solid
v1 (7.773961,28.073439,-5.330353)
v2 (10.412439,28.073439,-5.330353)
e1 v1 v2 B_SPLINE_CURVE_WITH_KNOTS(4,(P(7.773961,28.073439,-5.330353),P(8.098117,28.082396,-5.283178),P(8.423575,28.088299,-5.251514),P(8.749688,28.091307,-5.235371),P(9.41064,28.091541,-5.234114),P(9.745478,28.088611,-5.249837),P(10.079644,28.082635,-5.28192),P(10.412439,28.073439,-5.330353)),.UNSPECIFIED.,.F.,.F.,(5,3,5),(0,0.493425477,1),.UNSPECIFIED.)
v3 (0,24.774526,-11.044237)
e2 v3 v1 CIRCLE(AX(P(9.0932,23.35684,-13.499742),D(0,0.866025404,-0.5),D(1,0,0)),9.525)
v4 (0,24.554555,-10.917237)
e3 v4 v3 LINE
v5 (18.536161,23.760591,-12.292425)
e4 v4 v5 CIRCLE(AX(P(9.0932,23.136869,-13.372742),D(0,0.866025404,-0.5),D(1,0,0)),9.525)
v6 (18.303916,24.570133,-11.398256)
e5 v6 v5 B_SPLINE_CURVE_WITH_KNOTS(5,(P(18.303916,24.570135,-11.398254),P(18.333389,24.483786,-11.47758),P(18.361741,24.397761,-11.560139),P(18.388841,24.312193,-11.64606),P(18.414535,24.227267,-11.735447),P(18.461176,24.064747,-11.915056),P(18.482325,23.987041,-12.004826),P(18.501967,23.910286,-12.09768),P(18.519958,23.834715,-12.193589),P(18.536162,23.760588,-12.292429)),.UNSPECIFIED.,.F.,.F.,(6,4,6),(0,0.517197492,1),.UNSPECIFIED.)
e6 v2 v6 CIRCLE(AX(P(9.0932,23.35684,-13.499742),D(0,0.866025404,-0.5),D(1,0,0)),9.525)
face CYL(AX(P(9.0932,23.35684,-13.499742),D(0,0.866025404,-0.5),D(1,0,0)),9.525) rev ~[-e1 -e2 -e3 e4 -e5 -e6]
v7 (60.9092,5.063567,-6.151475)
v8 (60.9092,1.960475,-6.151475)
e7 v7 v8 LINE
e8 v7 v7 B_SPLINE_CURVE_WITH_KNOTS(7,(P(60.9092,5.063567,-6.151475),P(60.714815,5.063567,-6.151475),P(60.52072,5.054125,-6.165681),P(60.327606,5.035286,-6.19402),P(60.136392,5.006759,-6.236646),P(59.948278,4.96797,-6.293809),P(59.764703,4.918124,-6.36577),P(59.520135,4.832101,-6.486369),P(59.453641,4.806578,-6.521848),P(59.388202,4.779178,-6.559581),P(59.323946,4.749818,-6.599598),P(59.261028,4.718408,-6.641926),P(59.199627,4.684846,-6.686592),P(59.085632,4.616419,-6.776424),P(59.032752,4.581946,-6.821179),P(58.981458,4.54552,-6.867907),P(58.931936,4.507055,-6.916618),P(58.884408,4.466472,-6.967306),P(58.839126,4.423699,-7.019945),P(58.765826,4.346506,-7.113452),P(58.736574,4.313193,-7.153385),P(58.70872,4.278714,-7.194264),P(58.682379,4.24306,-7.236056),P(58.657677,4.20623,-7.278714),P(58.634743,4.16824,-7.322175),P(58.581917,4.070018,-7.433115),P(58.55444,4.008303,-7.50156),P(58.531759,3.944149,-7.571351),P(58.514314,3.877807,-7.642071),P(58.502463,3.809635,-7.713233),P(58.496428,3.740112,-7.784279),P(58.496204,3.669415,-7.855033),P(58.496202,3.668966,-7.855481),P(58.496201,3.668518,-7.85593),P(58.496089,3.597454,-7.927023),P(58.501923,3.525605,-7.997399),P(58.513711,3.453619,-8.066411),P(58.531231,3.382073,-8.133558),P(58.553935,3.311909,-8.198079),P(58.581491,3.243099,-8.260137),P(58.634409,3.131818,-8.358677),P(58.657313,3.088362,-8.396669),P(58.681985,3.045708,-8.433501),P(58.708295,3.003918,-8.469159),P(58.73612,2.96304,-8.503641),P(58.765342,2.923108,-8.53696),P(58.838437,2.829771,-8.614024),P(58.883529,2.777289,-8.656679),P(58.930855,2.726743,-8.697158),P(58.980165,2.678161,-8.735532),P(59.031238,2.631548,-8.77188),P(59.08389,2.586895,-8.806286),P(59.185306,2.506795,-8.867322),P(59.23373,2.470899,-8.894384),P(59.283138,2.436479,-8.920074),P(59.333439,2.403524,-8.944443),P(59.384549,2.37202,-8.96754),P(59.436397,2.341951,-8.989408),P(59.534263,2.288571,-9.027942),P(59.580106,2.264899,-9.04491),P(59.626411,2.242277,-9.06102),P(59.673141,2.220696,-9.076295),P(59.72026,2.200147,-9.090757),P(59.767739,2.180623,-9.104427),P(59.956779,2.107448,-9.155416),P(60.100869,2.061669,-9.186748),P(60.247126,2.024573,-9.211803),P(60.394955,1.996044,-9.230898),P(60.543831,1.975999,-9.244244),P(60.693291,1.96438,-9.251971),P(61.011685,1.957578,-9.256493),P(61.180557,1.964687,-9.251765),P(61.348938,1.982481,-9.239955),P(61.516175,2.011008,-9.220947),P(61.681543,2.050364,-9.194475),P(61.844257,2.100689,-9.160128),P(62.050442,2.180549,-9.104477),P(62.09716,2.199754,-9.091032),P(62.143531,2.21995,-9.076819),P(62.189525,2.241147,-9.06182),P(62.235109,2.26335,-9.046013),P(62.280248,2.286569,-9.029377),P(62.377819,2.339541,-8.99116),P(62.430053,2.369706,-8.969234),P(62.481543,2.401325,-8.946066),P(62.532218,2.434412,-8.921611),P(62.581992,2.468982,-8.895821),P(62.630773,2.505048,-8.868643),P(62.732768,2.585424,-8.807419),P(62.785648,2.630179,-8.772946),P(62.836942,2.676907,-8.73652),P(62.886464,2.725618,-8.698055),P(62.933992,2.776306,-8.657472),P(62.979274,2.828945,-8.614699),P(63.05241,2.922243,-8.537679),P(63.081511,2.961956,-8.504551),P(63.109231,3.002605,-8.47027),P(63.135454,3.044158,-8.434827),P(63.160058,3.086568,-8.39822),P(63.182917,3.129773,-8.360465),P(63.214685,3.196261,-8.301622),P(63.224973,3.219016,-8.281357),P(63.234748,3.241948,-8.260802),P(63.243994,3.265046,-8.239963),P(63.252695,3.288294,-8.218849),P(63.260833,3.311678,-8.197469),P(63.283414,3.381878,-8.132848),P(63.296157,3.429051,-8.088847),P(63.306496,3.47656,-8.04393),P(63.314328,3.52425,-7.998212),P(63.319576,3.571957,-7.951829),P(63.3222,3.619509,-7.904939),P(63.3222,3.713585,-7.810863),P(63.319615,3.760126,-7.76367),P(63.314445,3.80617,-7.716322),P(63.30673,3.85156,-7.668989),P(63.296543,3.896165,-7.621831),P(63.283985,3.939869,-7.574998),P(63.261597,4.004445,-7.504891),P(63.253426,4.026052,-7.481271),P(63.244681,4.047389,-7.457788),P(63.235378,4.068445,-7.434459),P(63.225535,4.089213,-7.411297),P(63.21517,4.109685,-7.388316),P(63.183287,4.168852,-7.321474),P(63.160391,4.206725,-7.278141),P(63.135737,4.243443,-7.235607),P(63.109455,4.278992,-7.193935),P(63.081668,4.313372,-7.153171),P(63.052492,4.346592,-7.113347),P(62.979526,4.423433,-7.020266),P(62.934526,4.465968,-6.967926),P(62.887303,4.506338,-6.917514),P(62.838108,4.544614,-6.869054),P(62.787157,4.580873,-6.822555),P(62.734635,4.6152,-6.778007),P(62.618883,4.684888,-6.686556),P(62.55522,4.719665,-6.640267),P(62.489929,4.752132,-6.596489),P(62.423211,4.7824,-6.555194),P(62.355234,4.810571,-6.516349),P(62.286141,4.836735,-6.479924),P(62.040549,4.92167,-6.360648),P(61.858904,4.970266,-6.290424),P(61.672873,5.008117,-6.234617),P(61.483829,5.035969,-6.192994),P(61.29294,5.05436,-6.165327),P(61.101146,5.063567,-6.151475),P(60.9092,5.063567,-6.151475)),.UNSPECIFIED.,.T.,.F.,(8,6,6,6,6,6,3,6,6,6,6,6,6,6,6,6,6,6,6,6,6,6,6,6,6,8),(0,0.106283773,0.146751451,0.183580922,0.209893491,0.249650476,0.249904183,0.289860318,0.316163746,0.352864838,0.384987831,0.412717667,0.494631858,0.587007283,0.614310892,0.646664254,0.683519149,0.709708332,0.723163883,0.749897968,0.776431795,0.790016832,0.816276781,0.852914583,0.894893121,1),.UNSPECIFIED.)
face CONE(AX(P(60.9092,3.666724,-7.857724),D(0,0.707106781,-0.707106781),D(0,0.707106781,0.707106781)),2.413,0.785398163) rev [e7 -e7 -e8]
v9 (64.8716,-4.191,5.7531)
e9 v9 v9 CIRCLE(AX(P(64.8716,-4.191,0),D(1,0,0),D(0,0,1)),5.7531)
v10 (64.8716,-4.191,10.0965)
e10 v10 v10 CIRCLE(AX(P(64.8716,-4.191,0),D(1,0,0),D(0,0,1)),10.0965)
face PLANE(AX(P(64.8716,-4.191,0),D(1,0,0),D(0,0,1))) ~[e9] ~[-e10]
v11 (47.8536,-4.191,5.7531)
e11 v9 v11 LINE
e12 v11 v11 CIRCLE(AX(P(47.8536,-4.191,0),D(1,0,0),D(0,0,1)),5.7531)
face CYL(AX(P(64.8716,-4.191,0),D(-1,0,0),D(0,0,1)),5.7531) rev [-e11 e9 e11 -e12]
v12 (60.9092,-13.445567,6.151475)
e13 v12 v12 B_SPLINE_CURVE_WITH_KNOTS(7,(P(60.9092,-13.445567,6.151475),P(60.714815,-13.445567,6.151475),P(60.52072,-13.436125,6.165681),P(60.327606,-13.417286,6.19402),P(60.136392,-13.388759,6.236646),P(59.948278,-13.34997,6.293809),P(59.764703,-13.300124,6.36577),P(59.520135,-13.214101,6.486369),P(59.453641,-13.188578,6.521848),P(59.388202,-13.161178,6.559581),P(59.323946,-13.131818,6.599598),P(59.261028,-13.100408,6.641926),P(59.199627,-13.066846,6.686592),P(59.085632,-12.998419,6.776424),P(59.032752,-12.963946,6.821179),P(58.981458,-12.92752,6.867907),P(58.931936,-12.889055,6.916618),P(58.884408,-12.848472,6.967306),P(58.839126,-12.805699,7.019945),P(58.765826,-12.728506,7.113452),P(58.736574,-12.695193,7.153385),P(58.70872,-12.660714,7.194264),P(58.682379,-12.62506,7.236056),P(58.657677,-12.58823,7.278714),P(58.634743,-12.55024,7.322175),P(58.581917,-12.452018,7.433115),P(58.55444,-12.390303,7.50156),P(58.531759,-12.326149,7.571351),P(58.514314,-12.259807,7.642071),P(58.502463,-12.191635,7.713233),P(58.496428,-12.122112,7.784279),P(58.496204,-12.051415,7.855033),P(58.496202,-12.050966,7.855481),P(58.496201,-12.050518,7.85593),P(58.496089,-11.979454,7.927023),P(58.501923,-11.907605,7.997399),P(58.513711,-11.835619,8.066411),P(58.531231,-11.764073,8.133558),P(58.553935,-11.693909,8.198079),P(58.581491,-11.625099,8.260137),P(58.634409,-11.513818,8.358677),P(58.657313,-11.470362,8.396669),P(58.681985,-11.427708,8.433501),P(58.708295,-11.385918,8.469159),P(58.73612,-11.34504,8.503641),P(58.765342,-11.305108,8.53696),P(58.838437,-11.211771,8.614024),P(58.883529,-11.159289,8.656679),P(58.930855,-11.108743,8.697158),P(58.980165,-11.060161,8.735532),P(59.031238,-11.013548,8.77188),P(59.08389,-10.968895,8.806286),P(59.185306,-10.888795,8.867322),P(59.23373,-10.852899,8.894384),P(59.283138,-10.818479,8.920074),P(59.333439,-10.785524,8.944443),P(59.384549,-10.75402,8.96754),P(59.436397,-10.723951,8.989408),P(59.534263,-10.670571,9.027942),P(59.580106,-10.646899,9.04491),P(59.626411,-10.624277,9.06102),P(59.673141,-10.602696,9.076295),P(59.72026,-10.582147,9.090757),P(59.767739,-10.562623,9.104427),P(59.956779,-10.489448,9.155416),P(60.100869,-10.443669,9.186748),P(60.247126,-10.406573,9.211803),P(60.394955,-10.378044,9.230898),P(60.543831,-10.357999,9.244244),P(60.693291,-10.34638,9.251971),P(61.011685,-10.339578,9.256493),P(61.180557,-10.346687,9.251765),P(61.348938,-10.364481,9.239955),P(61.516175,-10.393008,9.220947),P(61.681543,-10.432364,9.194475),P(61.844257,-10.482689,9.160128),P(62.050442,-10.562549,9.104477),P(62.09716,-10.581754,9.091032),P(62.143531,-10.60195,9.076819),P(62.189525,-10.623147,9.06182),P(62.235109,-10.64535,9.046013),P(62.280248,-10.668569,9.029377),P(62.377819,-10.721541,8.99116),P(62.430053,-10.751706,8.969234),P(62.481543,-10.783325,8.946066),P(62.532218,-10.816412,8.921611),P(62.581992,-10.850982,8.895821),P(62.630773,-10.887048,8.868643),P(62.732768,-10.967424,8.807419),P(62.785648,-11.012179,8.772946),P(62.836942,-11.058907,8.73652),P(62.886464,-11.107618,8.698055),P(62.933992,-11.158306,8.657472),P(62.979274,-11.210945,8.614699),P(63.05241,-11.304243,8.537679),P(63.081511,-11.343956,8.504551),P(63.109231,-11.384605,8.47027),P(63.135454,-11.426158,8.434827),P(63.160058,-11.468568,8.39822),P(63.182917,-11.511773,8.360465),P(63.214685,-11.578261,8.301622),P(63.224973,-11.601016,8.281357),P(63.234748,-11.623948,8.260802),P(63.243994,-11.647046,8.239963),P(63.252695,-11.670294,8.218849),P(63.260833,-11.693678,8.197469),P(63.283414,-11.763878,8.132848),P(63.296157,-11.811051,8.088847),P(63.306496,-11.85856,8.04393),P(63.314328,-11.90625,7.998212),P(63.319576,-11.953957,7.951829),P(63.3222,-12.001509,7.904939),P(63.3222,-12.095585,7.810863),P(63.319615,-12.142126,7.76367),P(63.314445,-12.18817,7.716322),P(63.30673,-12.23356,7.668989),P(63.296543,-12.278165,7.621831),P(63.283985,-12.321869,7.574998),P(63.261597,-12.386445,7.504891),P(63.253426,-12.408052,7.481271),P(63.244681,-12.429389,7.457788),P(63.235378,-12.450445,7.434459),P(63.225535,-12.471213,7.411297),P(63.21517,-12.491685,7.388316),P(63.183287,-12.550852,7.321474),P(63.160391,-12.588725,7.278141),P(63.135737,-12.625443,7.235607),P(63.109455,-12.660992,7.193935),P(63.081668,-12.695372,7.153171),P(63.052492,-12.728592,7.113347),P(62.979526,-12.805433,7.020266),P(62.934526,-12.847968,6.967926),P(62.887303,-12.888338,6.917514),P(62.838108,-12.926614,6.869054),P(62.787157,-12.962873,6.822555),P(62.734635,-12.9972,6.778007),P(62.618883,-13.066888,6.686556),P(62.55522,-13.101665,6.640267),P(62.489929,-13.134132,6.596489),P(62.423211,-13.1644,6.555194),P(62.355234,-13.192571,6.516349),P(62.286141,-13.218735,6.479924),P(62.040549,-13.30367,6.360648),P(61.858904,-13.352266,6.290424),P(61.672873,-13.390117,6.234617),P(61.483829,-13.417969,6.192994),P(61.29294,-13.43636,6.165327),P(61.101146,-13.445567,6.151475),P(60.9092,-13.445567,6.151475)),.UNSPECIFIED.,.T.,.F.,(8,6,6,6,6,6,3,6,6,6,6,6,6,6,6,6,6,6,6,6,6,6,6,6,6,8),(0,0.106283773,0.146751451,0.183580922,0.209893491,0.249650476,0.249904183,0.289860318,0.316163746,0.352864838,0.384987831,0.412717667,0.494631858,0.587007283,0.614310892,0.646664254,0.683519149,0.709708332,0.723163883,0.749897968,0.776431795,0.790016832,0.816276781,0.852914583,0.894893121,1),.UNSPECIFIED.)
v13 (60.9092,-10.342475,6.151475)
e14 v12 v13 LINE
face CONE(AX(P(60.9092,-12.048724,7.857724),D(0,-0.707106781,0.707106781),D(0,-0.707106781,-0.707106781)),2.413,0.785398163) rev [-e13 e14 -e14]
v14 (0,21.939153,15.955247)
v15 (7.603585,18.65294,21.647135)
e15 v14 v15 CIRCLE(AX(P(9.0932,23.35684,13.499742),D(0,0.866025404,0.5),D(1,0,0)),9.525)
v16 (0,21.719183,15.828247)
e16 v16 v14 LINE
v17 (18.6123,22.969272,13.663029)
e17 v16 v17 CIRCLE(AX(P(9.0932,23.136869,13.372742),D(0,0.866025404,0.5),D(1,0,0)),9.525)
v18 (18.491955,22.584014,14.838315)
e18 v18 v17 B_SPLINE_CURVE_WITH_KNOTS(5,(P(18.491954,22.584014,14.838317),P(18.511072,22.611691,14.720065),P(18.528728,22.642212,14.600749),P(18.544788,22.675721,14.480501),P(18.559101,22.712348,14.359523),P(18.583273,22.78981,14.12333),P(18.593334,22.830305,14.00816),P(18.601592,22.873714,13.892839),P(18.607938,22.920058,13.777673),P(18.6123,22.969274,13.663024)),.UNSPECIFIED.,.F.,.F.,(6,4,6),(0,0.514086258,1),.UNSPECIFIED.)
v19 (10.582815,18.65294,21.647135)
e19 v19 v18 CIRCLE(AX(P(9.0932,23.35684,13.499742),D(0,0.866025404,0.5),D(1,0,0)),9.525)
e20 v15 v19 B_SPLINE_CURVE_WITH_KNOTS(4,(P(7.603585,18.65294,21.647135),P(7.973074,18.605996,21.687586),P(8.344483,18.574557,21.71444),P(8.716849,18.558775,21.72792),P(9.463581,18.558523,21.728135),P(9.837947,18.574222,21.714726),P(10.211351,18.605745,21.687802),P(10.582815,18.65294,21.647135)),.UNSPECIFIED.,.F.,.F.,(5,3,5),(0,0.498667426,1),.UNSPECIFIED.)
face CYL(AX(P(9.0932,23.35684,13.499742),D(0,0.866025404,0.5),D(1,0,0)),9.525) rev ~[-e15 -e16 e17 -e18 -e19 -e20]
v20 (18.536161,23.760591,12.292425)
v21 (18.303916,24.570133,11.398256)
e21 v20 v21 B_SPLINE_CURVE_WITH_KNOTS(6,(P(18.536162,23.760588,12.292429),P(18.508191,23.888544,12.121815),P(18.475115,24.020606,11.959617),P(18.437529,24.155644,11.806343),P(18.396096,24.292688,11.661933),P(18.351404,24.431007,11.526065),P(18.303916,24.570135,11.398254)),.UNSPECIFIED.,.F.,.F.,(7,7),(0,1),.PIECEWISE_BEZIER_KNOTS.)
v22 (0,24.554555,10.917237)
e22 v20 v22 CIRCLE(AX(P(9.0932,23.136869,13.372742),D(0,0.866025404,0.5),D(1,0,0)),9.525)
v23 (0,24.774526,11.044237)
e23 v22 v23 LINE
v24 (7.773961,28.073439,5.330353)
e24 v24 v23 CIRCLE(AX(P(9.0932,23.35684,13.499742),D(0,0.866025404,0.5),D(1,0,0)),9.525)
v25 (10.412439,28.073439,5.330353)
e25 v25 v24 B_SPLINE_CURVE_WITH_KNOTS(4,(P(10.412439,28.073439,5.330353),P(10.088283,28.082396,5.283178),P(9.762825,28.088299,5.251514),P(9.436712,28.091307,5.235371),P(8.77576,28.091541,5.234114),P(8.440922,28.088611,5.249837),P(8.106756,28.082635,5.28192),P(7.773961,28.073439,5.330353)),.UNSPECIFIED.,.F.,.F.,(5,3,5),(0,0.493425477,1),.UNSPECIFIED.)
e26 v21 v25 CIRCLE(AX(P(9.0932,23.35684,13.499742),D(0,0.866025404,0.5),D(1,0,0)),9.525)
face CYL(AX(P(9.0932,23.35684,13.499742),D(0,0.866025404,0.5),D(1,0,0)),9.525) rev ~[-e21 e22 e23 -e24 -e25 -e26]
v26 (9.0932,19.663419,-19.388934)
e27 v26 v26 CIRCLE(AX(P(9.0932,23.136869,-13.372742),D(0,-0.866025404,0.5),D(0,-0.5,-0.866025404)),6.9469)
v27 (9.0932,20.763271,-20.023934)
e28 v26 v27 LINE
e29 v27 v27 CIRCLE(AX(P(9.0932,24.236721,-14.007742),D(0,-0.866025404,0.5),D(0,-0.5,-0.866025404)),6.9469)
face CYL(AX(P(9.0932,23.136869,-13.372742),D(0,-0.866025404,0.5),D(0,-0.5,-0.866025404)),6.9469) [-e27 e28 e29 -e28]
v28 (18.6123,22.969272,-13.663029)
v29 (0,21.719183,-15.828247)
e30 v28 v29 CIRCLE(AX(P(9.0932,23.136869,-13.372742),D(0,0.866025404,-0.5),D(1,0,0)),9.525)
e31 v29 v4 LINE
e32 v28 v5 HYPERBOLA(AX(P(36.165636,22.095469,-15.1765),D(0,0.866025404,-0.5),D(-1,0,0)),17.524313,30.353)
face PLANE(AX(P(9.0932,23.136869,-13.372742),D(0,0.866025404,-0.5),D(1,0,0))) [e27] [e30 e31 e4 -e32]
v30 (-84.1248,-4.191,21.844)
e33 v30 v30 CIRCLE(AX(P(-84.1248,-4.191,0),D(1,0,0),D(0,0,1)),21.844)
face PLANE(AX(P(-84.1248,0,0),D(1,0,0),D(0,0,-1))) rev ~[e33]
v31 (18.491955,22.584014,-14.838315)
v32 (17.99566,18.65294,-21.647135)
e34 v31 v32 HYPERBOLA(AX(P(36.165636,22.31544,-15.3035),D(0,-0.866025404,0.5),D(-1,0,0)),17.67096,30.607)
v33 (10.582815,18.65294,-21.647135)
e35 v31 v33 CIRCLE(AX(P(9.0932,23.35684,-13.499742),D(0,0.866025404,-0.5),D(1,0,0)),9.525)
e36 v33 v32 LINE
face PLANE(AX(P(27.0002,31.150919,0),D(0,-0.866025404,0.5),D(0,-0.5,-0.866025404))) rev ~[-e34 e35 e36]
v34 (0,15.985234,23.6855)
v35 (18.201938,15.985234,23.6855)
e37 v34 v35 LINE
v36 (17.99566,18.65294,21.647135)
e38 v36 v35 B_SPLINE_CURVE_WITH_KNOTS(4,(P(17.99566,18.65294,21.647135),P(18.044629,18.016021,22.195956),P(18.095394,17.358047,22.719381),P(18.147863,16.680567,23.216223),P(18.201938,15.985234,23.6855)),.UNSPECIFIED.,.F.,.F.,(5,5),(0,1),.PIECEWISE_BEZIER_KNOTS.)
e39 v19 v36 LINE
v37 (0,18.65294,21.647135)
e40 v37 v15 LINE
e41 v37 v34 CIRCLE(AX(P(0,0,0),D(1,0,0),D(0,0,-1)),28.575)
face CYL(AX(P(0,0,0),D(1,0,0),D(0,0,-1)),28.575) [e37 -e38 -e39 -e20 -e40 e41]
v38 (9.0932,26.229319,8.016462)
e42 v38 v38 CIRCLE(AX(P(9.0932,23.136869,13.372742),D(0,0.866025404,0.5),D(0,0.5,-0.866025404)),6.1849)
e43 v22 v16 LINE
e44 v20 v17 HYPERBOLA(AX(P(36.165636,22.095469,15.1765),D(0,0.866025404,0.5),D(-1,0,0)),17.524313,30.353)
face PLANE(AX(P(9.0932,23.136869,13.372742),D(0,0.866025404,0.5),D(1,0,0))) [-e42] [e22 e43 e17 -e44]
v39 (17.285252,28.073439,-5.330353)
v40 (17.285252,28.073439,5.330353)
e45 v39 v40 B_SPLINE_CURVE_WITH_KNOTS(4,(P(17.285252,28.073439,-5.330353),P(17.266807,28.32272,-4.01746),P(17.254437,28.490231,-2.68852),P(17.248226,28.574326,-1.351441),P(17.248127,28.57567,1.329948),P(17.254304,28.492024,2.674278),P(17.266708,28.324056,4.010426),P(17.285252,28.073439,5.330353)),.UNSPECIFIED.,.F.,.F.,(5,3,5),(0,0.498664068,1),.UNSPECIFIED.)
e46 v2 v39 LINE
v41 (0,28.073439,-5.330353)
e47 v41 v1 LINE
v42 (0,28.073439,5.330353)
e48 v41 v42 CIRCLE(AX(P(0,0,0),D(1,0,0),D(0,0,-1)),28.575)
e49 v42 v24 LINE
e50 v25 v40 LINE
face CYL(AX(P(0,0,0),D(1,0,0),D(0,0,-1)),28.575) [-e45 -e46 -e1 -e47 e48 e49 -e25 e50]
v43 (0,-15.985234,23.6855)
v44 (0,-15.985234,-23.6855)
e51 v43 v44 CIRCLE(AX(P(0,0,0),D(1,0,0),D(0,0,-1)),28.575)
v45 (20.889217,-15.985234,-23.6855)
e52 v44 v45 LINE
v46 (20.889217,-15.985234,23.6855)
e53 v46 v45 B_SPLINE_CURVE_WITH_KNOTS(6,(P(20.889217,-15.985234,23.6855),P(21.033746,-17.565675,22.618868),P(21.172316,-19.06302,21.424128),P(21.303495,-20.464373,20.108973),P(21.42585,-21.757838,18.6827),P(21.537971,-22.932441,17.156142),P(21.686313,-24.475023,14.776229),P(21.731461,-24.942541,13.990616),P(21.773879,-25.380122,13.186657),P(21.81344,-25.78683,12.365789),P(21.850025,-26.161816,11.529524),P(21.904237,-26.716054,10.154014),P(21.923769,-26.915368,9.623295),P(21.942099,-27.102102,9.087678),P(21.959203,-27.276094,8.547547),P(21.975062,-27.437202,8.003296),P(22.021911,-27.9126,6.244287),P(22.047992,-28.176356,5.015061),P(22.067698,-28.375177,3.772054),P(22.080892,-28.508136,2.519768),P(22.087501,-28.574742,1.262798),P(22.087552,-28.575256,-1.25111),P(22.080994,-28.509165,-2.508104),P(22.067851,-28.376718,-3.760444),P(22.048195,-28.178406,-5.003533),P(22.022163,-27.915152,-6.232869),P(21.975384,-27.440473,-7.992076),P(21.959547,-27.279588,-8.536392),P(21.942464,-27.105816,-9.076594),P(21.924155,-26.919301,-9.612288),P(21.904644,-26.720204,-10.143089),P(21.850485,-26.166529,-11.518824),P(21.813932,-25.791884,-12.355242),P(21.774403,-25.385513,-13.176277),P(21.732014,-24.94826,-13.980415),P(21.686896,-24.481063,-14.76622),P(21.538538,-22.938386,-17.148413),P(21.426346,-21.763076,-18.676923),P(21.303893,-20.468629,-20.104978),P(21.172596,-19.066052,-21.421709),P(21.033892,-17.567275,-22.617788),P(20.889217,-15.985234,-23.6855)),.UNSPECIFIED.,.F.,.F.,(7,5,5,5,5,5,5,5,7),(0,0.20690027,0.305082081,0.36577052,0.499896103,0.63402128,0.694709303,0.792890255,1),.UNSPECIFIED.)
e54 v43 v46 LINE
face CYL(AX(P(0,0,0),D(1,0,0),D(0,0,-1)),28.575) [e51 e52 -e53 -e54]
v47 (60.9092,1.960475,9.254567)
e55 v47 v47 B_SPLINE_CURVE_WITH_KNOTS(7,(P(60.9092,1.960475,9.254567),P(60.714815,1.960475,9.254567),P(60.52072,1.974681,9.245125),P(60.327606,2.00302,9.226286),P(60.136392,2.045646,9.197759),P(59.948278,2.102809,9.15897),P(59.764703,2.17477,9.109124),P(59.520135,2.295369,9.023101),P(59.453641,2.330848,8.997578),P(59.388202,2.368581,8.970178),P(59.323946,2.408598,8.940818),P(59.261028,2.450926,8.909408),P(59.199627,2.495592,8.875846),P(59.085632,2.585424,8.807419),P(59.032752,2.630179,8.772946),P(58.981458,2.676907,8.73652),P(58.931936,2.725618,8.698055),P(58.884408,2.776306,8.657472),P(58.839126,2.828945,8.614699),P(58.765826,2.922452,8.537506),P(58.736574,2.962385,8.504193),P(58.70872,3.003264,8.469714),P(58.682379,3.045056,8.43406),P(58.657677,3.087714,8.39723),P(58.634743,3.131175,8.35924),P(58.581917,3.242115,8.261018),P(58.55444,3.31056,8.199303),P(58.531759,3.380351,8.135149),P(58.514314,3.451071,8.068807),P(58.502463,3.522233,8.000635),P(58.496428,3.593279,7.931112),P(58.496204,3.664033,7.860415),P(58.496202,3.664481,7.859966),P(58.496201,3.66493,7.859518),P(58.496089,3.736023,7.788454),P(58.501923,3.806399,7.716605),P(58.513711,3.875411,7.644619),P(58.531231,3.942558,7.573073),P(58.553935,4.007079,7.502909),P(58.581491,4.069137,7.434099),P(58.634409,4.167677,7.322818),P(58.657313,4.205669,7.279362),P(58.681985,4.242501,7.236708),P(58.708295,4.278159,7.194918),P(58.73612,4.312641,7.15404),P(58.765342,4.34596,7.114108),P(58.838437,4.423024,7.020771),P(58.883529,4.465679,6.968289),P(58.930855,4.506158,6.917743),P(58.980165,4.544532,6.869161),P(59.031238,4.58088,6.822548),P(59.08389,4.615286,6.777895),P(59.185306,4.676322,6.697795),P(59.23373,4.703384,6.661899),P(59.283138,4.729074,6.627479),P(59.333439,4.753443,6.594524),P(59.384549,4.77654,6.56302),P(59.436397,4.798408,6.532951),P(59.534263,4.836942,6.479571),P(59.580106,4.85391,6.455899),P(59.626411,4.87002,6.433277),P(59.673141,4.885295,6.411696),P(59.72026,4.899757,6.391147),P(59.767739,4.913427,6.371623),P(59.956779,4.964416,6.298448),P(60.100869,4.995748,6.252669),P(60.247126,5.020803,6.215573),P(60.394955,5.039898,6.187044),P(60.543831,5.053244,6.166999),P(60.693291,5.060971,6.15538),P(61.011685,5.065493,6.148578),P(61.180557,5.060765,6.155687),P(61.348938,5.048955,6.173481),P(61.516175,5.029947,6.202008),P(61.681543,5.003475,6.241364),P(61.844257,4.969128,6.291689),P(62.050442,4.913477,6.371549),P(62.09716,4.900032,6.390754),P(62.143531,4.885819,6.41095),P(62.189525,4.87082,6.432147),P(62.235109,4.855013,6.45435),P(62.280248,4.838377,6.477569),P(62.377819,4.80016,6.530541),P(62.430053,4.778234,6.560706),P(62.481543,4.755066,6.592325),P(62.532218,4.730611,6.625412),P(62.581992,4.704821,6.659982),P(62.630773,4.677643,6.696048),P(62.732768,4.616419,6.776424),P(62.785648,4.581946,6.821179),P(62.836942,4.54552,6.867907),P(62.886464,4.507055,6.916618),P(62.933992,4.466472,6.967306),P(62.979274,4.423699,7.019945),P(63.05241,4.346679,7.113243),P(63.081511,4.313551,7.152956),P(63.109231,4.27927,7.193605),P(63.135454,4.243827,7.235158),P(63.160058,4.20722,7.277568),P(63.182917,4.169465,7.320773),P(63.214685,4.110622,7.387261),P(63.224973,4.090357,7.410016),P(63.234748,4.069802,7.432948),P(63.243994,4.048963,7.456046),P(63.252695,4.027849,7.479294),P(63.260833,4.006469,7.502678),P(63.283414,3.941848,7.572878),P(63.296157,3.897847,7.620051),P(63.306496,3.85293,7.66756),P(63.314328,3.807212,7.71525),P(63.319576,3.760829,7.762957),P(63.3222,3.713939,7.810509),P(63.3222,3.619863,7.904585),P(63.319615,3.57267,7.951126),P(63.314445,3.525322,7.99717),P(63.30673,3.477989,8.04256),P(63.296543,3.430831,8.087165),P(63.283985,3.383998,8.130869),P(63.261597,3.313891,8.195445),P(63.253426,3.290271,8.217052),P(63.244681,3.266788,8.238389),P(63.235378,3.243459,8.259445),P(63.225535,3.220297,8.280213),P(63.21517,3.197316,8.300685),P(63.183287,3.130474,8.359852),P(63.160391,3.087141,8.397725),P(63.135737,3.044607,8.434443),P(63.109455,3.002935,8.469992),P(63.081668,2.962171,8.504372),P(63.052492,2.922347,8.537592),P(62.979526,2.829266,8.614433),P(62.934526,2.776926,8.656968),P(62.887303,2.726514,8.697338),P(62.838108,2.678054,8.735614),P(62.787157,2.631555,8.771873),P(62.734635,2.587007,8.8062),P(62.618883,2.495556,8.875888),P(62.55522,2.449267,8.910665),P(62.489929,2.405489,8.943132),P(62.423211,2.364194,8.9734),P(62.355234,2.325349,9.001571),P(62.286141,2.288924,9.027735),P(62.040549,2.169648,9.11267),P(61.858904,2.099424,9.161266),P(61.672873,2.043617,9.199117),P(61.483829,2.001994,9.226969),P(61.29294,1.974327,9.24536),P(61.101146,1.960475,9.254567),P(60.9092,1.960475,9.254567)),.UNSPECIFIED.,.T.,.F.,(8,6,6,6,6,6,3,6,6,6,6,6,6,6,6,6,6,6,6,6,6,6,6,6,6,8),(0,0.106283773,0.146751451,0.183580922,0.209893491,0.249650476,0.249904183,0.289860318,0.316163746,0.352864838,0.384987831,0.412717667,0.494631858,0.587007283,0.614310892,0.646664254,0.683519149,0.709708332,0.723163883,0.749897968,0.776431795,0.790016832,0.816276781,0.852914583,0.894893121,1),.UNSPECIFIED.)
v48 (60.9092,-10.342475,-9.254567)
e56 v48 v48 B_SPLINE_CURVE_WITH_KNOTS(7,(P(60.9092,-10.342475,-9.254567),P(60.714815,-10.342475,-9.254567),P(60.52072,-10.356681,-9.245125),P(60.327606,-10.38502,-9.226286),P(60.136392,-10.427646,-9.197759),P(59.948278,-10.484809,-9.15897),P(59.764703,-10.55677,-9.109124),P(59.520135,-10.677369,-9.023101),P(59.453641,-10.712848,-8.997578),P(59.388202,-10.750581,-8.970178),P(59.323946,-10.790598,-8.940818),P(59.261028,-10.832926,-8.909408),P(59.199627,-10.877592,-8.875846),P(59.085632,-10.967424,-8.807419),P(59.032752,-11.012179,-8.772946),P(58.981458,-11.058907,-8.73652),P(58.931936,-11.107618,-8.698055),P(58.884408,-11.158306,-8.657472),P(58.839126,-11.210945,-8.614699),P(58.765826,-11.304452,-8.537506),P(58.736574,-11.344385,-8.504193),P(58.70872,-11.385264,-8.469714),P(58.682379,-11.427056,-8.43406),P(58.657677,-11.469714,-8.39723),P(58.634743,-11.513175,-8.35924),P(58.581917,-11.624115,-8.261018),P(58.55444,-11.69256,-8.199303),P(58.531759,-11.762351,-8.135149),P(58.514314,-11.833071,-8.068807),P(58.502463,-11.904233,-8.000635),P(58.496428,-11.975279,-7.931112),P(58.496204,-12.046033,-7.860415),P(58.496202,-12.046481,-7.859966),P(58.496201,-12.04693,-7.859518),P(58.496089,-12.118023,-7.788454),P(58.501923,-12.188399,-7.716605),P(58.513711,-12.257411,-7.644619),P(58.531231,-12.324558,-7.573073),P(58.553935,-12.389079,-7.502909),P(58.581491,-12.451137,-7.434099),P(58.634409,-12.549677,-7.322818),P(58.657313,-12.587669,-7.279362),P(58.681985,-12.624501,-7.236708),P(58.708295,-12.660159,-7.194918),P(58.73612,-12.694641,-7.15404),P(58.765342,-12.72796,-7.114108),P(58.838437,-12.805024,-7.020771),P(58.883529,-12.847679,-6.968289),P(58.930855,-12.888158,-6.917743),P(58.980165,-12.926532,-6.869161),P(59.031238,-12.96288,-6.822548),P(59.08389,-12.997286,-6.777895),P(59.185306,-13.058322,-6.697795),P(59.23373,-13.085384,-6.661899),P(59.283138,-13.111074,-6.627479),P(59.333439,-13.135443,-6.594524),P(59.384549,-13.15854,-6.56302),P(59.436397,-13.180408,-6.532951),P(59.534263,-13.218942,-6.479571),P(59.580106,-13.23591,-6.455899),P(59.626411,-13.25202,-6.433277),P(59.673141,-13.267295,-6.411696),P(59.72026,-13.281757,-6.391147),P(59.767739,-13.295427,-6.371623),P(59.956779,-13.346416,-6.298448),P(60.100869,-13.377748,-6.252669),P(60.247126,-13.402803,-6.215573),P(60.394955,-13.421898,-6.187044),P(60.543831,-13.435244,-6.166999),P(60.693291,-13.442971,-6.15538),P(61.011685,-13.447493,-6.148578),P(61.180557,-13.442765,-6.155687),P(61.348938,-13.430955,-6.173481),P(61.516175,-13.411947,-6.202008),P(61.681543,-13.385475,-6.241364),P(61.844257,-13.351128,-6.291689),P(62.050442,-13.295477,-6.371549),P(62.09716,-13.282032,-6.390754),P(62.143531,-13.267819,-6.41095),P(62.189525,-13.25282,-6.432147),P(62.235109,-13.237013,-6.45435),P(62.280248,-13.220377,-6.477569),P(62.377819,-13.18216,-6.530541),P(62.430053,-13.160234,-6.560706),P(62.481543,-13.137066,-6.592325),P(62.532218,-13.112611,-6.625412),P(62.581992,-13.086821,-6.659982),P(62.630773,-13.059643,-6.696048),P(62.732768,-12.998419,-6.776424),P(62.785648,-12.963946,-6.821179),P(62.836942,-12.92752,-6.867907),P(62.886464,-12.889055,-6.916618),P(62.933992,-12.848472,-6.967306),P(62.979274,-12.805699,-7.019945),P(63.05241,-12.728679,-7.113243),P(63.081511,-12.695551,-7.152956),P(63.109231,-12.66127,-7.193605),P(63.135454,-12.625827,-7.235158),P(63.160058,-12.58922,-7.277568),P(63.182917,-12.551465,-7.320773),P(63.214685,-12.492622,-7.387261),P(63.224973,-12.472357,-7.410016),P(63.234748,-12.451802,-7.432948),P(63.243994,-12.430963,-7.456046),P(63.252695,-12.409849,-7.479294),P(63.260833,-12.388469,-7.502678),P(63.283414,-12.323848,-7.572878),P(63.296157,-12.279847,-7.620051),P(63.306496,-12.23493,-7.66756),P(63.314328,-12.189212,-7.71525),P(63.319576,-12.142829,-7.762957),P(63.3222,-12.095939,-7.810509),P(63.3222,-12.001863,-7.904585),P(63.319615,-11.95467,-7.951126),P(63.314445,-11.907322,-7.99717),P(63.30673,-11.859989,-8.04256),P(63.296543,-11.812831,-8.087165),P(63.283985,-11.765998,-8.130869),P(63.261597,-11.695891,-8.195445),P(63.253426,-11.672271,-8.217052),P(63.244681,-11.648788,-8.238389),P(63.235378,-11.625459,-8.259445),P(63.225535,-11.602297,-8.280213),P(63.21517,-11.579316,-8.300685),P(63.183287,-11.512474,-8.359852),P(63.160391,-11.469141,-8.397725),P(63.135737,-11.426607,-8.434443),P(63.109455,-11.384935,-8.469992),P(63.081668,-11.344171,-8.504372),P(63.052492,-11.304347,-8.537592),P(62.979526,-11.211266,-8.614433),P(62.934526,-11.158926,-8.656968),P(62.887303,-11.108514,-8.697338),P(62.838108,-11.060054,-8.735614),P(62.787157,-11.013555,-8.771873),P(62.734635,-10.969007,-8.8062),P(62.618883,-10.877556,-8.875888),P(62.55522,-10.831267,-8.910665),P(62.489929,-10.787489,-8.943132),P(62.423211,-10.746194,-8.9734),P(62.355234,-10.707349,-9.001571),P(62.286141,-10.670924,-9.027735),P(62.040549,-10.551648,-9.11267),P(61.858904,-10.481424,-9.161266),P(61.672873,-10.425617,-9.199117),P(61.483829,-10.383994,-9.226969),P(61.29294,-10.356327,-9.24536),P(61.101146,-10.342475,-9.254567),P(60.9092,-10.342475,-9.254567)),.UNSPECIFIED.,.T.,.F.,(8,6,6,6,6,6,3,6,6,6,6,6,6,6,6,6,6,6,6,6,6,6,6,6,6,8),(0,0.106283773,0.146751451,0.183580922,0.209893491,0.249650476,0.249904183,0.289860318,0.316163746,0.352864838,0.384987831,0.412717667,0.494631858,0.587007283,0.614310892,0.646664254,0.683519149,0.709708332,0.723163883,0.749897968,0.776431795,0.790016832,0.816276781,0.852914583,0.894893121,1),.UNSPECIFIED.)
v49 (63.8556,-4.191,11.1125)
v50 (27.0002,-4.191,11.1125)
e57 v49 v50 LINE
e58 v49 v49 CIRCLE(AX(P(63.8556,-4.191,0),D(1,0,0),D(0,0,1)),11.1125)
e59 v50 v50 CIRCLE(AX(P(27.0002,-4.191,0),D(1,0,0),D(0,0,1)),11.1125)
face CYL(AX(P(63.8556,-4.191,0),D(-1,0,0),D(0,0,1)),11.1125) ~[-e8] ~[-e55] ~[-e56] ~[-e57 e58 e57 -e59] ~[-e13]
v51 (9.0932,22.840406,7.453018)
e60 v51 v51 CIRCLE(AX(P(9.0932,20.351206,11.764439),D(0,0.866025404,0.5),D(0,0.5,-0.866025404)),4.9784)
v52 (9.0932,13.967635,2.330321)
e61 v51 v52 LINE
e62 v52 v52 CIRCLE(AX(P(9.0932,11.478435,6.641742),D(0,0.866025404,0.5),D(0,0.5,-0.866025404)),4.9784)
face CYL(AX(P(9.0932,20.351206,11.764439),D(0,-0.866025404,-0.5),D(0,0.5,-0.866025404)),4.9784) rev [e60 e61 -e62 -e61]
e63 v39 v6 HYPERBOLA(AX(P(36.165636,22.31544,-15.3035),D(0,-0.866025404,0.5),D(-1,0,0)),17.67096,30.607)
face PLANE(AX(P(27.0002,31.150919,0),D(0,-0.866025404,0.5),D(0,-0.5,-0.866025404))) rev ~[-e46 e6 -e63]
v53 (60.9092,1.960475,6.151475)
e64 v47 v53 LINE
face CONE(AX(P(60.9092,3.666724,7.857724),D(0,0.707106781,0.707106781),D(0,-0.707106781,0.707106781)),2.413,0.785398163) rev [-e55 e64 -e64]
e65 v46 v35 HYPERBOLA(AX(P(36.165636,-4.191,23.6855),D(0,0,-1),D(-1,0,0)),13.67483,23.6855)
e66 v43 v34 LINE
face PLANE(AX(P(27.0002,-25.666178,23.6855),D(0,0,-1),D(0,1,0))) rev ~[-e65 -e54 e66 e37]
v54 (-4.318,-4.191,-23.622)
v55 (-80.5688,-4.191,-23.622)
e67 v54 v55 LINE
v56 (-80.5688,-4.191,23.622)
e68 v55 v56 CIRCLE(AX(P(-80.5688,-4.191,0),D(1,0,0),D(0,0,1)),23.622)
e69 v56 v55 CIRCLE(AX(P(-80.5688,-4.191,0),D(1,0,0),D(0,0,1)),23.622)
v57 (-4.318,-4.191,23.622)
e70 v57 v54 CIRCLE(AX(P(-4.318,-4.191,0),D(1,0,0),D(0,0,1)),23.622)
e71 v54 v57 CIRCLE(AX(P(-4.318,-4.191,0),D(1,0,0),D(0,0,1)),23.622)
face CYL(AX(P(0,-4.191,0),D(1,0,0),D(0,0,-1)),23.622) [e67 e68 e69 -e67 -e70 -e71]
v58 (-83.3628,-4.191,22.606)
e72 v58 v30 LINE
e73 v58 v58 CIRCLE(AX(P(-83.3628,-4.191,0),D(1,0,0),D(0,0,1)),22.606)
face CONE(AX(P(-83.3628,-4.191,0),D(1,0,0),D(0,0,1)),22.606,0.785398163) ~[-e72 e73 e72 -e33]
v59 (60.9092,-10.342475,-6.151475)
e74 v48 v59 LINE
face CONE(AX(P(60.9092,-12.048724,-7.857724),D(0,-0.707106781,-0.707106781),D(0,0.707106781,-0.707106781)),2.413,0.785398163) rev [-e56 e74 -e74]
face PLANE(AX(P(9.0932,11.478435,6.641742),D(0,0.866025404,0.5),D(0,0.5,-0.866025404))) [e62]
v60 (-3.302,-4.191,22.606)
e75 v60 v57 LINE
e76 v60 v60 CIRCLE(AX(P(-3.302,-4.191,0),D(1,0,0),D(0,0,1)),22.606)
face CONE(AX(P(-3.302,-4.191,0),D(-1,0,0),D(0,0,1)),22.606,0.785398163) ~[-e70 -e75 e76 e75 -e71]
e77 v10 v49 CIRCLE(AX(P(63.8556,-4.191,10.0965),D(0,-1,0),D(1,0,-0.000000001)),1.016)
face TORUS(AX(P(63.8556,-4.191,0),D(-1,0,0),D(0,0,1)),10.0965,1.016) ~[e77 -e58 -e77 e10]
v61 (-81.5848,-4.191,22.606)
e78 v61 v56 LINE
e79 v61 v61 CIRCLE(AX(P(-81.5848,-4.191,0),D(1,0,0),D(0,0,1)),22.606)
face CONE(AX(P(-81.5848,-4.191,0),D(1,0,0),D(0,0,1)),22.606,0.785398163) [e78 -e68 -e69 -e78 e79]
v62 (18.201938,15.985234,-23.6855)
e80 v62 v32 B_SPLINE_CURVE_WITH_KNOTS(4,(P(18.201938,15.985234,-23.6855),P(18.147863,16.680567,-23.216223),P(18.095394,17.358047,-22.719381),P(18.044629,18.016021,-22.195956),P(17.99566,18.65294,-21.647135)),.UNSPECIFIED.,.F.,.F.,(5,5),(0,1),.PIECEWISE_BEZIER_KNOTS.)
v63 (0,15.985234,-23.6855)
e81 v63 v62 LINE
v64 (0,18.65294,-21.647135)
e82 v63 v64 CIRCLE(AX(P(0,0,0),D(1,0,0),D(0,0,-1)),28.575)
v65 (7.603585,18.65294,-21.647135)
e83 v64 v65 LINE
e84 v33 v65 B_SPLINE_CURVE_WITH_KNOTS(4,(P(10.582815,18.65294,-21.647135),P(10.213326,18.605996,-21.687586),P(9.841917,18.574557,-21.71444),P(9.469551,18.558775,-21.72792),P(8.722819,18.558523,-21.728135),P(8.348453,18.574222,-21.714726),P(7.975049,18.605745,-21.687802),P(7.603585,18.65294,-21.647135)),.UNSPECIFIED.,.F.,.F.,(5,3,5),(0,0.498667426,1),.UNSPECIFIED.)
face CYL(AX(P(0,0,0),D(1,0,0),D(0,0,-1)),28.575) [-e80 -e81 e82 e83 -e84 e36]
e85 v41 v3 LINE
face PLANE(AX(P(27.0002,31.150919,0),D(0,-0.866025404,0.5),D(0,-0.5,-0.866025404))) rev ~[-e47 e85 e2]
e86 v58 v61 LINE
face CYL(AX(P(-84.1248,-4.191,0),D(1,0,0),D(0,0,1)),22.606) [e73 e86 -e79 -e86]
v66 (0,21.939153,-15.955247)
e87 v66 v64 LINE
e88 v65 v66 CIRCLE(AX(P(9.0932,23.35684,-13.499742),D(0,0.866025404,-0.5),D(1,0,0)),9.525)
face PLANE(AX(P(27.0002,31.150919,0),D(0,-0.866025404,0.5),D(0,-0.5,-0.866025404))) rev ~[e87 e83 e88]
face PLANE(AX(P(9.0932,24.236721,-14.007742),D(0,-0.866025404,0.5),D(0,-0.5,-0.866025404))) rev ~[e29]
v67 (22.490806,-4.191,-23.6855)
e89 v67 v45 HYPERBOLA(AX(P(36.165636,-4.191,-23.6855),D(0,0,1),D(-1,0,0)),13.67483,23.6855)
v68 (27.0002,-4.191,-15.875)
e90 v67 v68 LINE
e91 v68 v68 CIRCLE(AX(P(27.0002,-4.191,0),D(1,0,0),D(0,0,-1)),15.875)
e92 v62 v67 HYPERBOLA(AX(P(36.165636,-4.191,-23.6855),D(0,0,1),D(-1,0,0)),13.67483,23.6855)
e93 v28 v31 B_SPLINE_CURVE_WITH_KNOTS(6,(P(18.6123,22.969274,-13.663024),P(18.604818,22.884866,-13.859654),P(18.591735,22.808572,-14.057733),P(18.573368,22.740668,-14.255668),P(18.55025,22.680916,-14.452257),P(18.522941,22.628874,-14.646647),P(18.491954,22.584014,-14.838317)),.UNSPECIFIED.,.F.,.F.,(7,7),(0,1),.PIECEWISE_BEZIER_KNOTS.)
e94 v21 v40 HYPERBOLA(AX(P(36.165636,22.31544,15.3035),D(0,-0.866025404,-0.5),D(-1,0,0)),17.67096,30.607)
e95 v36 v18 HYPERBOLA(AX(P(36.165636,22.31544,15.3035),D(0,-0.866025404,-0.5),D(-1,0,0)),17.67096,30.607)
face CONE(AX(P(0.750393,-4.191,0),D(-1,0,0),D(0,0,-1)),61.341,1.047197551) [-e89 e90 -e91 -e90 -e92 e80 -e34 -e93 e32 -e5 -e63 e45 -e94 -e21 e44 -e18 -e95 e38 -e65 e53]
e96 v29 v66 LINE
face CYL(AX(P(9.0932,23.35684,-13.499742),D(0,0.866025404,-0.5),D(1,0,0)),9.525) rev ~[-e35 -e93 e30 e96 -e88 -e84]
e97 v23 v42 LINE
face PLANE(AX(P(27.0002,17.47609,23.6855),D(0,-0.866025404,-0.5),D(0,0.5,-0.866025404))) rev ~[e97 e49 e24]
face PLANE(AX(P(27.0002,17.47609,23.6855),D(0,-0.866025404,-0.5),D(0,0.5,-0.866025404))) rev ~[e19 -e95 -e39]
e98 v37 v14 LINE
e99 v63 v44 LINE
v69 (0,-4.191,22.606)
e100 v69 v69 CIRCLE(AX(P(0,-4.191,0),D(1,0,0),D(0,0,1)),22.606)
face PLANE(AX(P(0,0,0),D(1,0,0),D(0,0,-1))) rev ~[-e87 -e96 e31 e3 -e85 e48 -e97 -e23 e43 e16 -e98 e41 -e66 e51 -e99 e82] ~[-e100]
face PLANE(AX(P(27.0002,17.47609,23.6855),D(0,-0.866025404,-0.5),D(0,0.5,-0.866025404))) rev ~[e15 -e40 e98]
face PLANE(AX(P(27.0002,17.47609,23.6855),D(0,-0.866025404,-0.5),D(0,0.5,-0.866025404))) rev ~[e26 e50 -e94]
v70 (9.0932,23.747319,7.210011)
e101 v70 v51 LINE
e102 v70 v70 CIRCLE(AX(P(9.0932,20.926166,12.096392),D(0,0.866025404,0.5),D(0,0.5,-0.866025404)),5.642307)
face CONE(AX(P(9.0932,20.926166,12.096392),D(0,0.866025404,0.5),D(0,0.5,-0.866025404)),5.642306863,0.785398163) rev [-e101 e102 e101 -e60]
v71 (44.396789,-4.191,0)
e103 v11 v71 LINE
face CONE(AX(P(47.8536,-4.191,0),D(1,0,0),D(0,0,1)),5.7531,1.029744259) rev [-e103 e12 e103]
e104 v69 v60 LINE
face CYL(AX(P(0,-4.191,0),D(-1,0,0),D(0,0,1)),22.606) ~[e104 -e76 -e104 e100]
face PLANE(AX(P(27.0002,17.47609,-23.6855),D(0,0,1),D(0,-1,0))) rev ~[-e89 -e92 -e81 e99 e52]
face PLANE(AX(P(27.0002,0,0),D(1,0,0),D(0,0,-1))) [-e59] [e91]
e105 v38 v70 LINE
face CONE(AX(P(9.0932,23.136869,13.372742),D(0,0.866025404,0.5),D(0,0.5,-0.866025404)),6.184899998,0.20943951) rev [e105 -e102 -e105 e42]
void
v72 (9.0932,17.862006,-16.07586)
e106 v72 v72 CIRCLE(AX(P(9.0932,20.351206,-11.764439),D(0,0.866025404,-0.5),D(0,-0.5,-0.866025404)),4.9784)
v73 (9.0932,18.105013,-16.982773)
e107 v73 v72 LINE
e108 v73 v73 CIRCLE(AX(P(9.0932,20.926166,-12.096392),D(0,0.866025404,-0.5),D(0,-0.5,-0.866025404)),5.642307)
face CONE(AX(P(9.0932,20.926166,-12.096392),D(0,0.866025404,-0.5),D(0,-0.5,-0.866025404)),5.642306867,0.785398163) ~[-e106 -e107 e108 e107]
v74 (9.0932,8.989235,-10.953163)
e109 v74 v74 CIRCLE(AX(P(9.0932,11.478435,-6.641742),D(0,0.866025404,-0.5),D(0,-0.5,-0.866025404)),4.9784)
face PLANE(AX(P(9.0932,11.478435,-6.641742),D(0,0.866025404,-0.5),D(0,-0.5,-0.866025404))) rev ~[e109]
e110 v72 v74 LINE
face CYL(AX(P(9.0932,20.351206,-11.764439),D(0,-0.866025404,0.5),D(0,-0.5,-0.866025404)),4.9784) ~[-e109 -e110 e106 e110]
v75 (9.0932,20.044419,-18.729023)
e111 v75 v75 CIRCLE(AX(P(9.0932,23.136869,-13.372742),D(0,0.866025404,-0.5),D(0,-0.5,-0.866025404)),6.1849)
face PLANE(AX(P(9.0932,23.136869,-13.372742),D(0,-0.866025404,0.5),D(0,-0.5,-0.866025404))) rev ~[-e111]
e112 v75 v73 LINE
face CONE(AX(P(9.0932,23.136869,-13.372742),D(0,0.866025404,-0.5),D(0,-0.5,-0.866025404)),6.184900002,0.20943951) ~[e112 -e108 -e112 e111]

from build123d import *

# Parameters (mm, degrees)
SKETCH1_R           = 28.575
EXTRUDE1_DEPTH      = 27.0002
EXTRUDE1_DEPTH_BACK = 84.1248
CUT_EXTRUDE1_REACH  = 86.125
SKETCH2_R           = 28.575
SKETCH2_R_2         = 23.622
CUT_EXTRUDE3_START  = -27.0002
CUT_EXTRUDE3_DEPTH  = 27.0002
SKETCH18_R          = 9.525
CUT_EXTRUDE4_DEPTH  = 0.254
SKETCH19_R          = 9.525
CUT_EXTRUDE5_DEPTH  = 0.254
CHAMFER1_SIZE       = 0.762
SKETCH15_R          = 6.9469
EXTRUDE2_DEPTH      = 1.27
CIRPATTERN1_COUNT   = 4


with BuildPart() as part:
    # Sketch1 → Extrude1 (new body, two sides)
    with BuildSketch(Plane(origin=(0, 0, 0), x_dir=(0, 0, -1), z_dir=(1, 0, 0))) as extrude1_sk:
        Circle(SKETCH1_R)
    extrude(amount=EXTRUDE1_DEPTH)
    extrude(extrude1_sk.sketch, amount=-EXTRUDE1_DEPTH_BACK)

    # Sketch2 → Cut-Extrude1 (cut, up to next)
    with BuildSketch(Plane(origin=(0, 0, 0), x_dir=(0, 0, -1), z_dir=(1, 0, 0)), mode=Mode.PRIVATE) as cut_extrude1_sk1:
        Circle(SKETCH2_R)
        with Locations((0, -4.191)):
            Circle(SKETCH2_R_2, mode=Mode.SUBTRACT)
    cut_extrude1_tool1 = extrude(cut_extrude1_sk1.sketch, amount=-CUT_EXTRUDE1_REACH, mode=Mode.PRIVATE) & part.part
    add(cut_extrude1_tool1.solids().sort_by_distance((0, 0, 27.766777))[0], mode=Mode.SUBTRACT)

    # Sketch4 → Cut-Extrude3 (cut)
    with BuildSketch(Plane.ZY.offset(CUT_EXTRUDE3_START)):
        with BuildLine():
            Line((23.6855, -25.666178421), (23.6855, 17.476089577))
            Line((23.6855, 17.476089577), (0, 31.150919378))
            Line((0, 31.150919378), (-23.6855, 17.476089577))
            Line((-23.6855, 17.476089577), (-23.6855, -25.666178421))
            ThreePointArc((-23.6855, -25.666178421), (0, 34.925), (23.6855, -25.666178421))
        make_face()
    extrude(amount=CUT_EXTRUDE3_DEPTH, mode=Mode.SUBTRACT)

    # Sketch6 → Cut-Revolve2 (revolve, cut)
    with BuildSketch(Plane.XY, mode=Mode.PRIVATE) as cut_revolve2_sk:
        Polygon((0.750392661, 57.15), (27.0002, 11.684), (27.0002, 57.15), align=None)
    revolve(cut_revolve2_sk.sketch.rotate(Axis((-0.562097706, -4.191, 0), (1, 0, 0)), 270), axis=Axis((-0.562097706, -4.191, 0), (1, 0, 0)), mode=Mode.SUBTRACT)  # turned: the seam where the file's is

    # S2D0002 → Cut-Revolve3 (revolve, cut)
    with BuildSketch(Plane(origin=(9.0932, 23.136869081, 13.372742289), x_dir=(0, 0.5, -0.866025404), z_dir=(1, 0, 0))):
        Polygon((0, 0), (6.1849, 0), (5.642306865, -2.5527), (4.9784, -3.216606865), (4.9784, -13.462), (0, -13.462), align=None)
    revolve(axis=Axis((9.0932, 10.895513396, 6.305192289), (0, 0.866025404, 0.5)), mode=Mode.SUBTRACT)

    # Sketch8 → Cut-Revolve4 (revolve, cut)
    with BuildSketch(Plane(origin=(9.0932, 23.136869081, -13.372742289), x_dir=(0, -0.5, -0.866025404), z_dir=(1, 0, 0))):
        Polygon((0, 0), (6.1849, 0), (5.642306865, -2.5527), (4.9784, -3.216606865), (4.9784, -13.462), (0, -13.462), align=None)
    revolve(axis=Axis((9.0932, 10.895513396, -6.305192289), (0, 0.866025404, -0.5)), mode=Mode.SUBTRACT)

    # Sketch18 → Cut-Extrude4 (cut)
    with BuildSketch(Plane(origin=(0, 23.363189534, 13.488743766), x_dir=(1, 0, 0), z_dir=(0, 0.866025404, 0.5))):
        with Locations((9.0932, -0.0127)):
            Circle(SKETCH18_R)
    extrude(amount=-CUT_EXTRUDE4_DEPTH, mode=Mode.SUBTRACT)

    # Sketch19 → Cut-Extrude5 (cut)
    with BuildSketch(Plane(origin=(0, 23.363189534, -13.488743766), x_dir=(1, 0, 0), z_dir=(0, 0.866025404, -0.5))):
        with Locations((9.0932, 0.0127)):
            Circle(SKETCH19_R)
    extrude(amount=-CUT_EXTRUDE5_DEPTH, mode=Mode.SUBTRACT)

    # Sketch10 → Cut-Revolve6 (revolve, cut)
    with BuildSketch(Plane.XY, mode=Mode.PRIVATE) as cut_revolve6_sk:
        Polygon((0, 19.431), (0, 18.415), (-3.302, 18.415), (-4.318, 19.431), align=None)
    revolve(cut_revolve6_sk.sketch.rotate(Axis((-4.5339, -4.191, 0), (1, 0, 0)), 90), axis=Axis((-4.5339, -4.191, 0), (1, 0, 0)), mode=Mode.SUBTRACT)  # turned: the seam where the file's is

    # Sketch12 → Cut-Revolve8 (revolve, cut)
    with BuildSketch(Plane.XY, mode=Mode.PRIVATE) as cut_revolve8_sk:
        Polygon((-84.1248, 19.431), (-84.1248, 18.415), (-81.5848, 18.415), (-80.5688, 19.431), align=None)
    revolve(cut_revolve8_sk.sketch.rotate(Axis((-84.3026, -4.191, 0), (1, 0, 0)), 90), axis=Axis((-84.3026, -4.191, 0), (1, 0, 0)), mode=Mode.SUBTRACT)  # turned: the seam where the file's is

    # Chamfer1
    chamfer1_edges = [part.edges().sort_by_distance(p)[0] for p in [
        (-84.1248, -4.191, -22.606),
    ]]
    chamfer(chamfer1_edges, length=CHAMFER1_SIZE)

    # Sketch13 → Revolve1 (revolve)
    with BuildSketch(Plane(origin=(0, 0, 0), x_dir=(0, -1, 0), z_dir=(0, 0, 1)), mode=Mode.PRIVATE) as revolve1_sk:
        with BuildLine():
            Line((4.191, 27.0002), (4.191, 64.8716))
            Line((4.191, 64.8716), (14.2875, 64.8716))
            ThreePointArc((14.2875, 64.8716), (15.00592049, 64.57402049), (15.3035, 63.8556))
            Line((15.3035, 63.8556), (15.3035, 27.0002))
            Line((15.3035, 27.0002), (4.191, 27.0002))
        make_face()
    revolve(revolve1_sk.sketch.rotate(Axis((25.10663, -4.191, 0), (1, 0, 0)), 270), axis=Axis((25.10663, -4.191, 0), (1, 0, 0)))  # turned: the seam where the file's is

    # S2D0001 → Cut-Revolve9 (revolve, cut)
    with BuildSketch(Plane(origin=(64.8716, -9.9441, 0), x_dir=(0, -1, 0), z_dir=(0, 0, 1)), mode=Mode.PRIVATE) as cut_revolve9_sk:
        Polygon((0, 0), (0, -17.018), (-5.7531, -20.474811227), (-5.7531, 0), align=None)
    revolve(cut_revolve9_sk.sketch.rotate(Axis((43.373048211, -4.191, 0), (1, 0, 0)), 270), axis=Axis((43.373048211, -4.191, 0), (1, 0, 0)), mode=Mode.SUBTRACT)  # turned: the seam where the file's is

    # Sketch15 → Extrude2 (add)
    with BuildSketch(Plane(origin=(27.0002, 23.143219081, -13.361743766), x_dir=(0, -0.5, -0.866025404), z_dir=(0, -0.866025404, 0.5))):
        with Locations((0.0127, -17.907)):
            Circle(SKETCH15_R)
    extrude(amount=-EXTRUDE2_DEPTH)

    # Sketch16 → Cut-Revolve10 (revolve, cut)
    with BuildSketch(Plane(origin=(60.9092, 3.666724106, -7.857724106), x_dir=(-1, 0, 0), z_dir=(0, -0.707106781, -0.707106781)), mode=Mode.PRIVATE) as cut_revolve10_sk:
        Polygon((0, 0), (2.413, 0), (0, -2.413), align=None)
    cut_revolve10 = revolve(cut_revolve10_sk.sketch.rotate(Axis((60.9092, 0.494324135, -4.685324135), (0, 0.707106781, -0.707106781)), 90), axis=Axis((60.9092, 0.494324135, -4.685324135), (0, 0.707106781, -0.707106781)), mode=Mode.SUBTRACT)  # turned: the seam where the file's is

    # CirPattern1: Cut-Revolve10 ×4 about axis
    cirpattern1_axis = Axis((25.10663, -4.191, 0), (-1, 0, 0))
    for i in range(1, CIRPATTERN1_COUNT):
        add(cut_revolve10.rotate(cirpattern1_axis, i * 360 / CIRPATTERN1_COUNT), mode=Mode.SUBTRACT)


solid = part.part
